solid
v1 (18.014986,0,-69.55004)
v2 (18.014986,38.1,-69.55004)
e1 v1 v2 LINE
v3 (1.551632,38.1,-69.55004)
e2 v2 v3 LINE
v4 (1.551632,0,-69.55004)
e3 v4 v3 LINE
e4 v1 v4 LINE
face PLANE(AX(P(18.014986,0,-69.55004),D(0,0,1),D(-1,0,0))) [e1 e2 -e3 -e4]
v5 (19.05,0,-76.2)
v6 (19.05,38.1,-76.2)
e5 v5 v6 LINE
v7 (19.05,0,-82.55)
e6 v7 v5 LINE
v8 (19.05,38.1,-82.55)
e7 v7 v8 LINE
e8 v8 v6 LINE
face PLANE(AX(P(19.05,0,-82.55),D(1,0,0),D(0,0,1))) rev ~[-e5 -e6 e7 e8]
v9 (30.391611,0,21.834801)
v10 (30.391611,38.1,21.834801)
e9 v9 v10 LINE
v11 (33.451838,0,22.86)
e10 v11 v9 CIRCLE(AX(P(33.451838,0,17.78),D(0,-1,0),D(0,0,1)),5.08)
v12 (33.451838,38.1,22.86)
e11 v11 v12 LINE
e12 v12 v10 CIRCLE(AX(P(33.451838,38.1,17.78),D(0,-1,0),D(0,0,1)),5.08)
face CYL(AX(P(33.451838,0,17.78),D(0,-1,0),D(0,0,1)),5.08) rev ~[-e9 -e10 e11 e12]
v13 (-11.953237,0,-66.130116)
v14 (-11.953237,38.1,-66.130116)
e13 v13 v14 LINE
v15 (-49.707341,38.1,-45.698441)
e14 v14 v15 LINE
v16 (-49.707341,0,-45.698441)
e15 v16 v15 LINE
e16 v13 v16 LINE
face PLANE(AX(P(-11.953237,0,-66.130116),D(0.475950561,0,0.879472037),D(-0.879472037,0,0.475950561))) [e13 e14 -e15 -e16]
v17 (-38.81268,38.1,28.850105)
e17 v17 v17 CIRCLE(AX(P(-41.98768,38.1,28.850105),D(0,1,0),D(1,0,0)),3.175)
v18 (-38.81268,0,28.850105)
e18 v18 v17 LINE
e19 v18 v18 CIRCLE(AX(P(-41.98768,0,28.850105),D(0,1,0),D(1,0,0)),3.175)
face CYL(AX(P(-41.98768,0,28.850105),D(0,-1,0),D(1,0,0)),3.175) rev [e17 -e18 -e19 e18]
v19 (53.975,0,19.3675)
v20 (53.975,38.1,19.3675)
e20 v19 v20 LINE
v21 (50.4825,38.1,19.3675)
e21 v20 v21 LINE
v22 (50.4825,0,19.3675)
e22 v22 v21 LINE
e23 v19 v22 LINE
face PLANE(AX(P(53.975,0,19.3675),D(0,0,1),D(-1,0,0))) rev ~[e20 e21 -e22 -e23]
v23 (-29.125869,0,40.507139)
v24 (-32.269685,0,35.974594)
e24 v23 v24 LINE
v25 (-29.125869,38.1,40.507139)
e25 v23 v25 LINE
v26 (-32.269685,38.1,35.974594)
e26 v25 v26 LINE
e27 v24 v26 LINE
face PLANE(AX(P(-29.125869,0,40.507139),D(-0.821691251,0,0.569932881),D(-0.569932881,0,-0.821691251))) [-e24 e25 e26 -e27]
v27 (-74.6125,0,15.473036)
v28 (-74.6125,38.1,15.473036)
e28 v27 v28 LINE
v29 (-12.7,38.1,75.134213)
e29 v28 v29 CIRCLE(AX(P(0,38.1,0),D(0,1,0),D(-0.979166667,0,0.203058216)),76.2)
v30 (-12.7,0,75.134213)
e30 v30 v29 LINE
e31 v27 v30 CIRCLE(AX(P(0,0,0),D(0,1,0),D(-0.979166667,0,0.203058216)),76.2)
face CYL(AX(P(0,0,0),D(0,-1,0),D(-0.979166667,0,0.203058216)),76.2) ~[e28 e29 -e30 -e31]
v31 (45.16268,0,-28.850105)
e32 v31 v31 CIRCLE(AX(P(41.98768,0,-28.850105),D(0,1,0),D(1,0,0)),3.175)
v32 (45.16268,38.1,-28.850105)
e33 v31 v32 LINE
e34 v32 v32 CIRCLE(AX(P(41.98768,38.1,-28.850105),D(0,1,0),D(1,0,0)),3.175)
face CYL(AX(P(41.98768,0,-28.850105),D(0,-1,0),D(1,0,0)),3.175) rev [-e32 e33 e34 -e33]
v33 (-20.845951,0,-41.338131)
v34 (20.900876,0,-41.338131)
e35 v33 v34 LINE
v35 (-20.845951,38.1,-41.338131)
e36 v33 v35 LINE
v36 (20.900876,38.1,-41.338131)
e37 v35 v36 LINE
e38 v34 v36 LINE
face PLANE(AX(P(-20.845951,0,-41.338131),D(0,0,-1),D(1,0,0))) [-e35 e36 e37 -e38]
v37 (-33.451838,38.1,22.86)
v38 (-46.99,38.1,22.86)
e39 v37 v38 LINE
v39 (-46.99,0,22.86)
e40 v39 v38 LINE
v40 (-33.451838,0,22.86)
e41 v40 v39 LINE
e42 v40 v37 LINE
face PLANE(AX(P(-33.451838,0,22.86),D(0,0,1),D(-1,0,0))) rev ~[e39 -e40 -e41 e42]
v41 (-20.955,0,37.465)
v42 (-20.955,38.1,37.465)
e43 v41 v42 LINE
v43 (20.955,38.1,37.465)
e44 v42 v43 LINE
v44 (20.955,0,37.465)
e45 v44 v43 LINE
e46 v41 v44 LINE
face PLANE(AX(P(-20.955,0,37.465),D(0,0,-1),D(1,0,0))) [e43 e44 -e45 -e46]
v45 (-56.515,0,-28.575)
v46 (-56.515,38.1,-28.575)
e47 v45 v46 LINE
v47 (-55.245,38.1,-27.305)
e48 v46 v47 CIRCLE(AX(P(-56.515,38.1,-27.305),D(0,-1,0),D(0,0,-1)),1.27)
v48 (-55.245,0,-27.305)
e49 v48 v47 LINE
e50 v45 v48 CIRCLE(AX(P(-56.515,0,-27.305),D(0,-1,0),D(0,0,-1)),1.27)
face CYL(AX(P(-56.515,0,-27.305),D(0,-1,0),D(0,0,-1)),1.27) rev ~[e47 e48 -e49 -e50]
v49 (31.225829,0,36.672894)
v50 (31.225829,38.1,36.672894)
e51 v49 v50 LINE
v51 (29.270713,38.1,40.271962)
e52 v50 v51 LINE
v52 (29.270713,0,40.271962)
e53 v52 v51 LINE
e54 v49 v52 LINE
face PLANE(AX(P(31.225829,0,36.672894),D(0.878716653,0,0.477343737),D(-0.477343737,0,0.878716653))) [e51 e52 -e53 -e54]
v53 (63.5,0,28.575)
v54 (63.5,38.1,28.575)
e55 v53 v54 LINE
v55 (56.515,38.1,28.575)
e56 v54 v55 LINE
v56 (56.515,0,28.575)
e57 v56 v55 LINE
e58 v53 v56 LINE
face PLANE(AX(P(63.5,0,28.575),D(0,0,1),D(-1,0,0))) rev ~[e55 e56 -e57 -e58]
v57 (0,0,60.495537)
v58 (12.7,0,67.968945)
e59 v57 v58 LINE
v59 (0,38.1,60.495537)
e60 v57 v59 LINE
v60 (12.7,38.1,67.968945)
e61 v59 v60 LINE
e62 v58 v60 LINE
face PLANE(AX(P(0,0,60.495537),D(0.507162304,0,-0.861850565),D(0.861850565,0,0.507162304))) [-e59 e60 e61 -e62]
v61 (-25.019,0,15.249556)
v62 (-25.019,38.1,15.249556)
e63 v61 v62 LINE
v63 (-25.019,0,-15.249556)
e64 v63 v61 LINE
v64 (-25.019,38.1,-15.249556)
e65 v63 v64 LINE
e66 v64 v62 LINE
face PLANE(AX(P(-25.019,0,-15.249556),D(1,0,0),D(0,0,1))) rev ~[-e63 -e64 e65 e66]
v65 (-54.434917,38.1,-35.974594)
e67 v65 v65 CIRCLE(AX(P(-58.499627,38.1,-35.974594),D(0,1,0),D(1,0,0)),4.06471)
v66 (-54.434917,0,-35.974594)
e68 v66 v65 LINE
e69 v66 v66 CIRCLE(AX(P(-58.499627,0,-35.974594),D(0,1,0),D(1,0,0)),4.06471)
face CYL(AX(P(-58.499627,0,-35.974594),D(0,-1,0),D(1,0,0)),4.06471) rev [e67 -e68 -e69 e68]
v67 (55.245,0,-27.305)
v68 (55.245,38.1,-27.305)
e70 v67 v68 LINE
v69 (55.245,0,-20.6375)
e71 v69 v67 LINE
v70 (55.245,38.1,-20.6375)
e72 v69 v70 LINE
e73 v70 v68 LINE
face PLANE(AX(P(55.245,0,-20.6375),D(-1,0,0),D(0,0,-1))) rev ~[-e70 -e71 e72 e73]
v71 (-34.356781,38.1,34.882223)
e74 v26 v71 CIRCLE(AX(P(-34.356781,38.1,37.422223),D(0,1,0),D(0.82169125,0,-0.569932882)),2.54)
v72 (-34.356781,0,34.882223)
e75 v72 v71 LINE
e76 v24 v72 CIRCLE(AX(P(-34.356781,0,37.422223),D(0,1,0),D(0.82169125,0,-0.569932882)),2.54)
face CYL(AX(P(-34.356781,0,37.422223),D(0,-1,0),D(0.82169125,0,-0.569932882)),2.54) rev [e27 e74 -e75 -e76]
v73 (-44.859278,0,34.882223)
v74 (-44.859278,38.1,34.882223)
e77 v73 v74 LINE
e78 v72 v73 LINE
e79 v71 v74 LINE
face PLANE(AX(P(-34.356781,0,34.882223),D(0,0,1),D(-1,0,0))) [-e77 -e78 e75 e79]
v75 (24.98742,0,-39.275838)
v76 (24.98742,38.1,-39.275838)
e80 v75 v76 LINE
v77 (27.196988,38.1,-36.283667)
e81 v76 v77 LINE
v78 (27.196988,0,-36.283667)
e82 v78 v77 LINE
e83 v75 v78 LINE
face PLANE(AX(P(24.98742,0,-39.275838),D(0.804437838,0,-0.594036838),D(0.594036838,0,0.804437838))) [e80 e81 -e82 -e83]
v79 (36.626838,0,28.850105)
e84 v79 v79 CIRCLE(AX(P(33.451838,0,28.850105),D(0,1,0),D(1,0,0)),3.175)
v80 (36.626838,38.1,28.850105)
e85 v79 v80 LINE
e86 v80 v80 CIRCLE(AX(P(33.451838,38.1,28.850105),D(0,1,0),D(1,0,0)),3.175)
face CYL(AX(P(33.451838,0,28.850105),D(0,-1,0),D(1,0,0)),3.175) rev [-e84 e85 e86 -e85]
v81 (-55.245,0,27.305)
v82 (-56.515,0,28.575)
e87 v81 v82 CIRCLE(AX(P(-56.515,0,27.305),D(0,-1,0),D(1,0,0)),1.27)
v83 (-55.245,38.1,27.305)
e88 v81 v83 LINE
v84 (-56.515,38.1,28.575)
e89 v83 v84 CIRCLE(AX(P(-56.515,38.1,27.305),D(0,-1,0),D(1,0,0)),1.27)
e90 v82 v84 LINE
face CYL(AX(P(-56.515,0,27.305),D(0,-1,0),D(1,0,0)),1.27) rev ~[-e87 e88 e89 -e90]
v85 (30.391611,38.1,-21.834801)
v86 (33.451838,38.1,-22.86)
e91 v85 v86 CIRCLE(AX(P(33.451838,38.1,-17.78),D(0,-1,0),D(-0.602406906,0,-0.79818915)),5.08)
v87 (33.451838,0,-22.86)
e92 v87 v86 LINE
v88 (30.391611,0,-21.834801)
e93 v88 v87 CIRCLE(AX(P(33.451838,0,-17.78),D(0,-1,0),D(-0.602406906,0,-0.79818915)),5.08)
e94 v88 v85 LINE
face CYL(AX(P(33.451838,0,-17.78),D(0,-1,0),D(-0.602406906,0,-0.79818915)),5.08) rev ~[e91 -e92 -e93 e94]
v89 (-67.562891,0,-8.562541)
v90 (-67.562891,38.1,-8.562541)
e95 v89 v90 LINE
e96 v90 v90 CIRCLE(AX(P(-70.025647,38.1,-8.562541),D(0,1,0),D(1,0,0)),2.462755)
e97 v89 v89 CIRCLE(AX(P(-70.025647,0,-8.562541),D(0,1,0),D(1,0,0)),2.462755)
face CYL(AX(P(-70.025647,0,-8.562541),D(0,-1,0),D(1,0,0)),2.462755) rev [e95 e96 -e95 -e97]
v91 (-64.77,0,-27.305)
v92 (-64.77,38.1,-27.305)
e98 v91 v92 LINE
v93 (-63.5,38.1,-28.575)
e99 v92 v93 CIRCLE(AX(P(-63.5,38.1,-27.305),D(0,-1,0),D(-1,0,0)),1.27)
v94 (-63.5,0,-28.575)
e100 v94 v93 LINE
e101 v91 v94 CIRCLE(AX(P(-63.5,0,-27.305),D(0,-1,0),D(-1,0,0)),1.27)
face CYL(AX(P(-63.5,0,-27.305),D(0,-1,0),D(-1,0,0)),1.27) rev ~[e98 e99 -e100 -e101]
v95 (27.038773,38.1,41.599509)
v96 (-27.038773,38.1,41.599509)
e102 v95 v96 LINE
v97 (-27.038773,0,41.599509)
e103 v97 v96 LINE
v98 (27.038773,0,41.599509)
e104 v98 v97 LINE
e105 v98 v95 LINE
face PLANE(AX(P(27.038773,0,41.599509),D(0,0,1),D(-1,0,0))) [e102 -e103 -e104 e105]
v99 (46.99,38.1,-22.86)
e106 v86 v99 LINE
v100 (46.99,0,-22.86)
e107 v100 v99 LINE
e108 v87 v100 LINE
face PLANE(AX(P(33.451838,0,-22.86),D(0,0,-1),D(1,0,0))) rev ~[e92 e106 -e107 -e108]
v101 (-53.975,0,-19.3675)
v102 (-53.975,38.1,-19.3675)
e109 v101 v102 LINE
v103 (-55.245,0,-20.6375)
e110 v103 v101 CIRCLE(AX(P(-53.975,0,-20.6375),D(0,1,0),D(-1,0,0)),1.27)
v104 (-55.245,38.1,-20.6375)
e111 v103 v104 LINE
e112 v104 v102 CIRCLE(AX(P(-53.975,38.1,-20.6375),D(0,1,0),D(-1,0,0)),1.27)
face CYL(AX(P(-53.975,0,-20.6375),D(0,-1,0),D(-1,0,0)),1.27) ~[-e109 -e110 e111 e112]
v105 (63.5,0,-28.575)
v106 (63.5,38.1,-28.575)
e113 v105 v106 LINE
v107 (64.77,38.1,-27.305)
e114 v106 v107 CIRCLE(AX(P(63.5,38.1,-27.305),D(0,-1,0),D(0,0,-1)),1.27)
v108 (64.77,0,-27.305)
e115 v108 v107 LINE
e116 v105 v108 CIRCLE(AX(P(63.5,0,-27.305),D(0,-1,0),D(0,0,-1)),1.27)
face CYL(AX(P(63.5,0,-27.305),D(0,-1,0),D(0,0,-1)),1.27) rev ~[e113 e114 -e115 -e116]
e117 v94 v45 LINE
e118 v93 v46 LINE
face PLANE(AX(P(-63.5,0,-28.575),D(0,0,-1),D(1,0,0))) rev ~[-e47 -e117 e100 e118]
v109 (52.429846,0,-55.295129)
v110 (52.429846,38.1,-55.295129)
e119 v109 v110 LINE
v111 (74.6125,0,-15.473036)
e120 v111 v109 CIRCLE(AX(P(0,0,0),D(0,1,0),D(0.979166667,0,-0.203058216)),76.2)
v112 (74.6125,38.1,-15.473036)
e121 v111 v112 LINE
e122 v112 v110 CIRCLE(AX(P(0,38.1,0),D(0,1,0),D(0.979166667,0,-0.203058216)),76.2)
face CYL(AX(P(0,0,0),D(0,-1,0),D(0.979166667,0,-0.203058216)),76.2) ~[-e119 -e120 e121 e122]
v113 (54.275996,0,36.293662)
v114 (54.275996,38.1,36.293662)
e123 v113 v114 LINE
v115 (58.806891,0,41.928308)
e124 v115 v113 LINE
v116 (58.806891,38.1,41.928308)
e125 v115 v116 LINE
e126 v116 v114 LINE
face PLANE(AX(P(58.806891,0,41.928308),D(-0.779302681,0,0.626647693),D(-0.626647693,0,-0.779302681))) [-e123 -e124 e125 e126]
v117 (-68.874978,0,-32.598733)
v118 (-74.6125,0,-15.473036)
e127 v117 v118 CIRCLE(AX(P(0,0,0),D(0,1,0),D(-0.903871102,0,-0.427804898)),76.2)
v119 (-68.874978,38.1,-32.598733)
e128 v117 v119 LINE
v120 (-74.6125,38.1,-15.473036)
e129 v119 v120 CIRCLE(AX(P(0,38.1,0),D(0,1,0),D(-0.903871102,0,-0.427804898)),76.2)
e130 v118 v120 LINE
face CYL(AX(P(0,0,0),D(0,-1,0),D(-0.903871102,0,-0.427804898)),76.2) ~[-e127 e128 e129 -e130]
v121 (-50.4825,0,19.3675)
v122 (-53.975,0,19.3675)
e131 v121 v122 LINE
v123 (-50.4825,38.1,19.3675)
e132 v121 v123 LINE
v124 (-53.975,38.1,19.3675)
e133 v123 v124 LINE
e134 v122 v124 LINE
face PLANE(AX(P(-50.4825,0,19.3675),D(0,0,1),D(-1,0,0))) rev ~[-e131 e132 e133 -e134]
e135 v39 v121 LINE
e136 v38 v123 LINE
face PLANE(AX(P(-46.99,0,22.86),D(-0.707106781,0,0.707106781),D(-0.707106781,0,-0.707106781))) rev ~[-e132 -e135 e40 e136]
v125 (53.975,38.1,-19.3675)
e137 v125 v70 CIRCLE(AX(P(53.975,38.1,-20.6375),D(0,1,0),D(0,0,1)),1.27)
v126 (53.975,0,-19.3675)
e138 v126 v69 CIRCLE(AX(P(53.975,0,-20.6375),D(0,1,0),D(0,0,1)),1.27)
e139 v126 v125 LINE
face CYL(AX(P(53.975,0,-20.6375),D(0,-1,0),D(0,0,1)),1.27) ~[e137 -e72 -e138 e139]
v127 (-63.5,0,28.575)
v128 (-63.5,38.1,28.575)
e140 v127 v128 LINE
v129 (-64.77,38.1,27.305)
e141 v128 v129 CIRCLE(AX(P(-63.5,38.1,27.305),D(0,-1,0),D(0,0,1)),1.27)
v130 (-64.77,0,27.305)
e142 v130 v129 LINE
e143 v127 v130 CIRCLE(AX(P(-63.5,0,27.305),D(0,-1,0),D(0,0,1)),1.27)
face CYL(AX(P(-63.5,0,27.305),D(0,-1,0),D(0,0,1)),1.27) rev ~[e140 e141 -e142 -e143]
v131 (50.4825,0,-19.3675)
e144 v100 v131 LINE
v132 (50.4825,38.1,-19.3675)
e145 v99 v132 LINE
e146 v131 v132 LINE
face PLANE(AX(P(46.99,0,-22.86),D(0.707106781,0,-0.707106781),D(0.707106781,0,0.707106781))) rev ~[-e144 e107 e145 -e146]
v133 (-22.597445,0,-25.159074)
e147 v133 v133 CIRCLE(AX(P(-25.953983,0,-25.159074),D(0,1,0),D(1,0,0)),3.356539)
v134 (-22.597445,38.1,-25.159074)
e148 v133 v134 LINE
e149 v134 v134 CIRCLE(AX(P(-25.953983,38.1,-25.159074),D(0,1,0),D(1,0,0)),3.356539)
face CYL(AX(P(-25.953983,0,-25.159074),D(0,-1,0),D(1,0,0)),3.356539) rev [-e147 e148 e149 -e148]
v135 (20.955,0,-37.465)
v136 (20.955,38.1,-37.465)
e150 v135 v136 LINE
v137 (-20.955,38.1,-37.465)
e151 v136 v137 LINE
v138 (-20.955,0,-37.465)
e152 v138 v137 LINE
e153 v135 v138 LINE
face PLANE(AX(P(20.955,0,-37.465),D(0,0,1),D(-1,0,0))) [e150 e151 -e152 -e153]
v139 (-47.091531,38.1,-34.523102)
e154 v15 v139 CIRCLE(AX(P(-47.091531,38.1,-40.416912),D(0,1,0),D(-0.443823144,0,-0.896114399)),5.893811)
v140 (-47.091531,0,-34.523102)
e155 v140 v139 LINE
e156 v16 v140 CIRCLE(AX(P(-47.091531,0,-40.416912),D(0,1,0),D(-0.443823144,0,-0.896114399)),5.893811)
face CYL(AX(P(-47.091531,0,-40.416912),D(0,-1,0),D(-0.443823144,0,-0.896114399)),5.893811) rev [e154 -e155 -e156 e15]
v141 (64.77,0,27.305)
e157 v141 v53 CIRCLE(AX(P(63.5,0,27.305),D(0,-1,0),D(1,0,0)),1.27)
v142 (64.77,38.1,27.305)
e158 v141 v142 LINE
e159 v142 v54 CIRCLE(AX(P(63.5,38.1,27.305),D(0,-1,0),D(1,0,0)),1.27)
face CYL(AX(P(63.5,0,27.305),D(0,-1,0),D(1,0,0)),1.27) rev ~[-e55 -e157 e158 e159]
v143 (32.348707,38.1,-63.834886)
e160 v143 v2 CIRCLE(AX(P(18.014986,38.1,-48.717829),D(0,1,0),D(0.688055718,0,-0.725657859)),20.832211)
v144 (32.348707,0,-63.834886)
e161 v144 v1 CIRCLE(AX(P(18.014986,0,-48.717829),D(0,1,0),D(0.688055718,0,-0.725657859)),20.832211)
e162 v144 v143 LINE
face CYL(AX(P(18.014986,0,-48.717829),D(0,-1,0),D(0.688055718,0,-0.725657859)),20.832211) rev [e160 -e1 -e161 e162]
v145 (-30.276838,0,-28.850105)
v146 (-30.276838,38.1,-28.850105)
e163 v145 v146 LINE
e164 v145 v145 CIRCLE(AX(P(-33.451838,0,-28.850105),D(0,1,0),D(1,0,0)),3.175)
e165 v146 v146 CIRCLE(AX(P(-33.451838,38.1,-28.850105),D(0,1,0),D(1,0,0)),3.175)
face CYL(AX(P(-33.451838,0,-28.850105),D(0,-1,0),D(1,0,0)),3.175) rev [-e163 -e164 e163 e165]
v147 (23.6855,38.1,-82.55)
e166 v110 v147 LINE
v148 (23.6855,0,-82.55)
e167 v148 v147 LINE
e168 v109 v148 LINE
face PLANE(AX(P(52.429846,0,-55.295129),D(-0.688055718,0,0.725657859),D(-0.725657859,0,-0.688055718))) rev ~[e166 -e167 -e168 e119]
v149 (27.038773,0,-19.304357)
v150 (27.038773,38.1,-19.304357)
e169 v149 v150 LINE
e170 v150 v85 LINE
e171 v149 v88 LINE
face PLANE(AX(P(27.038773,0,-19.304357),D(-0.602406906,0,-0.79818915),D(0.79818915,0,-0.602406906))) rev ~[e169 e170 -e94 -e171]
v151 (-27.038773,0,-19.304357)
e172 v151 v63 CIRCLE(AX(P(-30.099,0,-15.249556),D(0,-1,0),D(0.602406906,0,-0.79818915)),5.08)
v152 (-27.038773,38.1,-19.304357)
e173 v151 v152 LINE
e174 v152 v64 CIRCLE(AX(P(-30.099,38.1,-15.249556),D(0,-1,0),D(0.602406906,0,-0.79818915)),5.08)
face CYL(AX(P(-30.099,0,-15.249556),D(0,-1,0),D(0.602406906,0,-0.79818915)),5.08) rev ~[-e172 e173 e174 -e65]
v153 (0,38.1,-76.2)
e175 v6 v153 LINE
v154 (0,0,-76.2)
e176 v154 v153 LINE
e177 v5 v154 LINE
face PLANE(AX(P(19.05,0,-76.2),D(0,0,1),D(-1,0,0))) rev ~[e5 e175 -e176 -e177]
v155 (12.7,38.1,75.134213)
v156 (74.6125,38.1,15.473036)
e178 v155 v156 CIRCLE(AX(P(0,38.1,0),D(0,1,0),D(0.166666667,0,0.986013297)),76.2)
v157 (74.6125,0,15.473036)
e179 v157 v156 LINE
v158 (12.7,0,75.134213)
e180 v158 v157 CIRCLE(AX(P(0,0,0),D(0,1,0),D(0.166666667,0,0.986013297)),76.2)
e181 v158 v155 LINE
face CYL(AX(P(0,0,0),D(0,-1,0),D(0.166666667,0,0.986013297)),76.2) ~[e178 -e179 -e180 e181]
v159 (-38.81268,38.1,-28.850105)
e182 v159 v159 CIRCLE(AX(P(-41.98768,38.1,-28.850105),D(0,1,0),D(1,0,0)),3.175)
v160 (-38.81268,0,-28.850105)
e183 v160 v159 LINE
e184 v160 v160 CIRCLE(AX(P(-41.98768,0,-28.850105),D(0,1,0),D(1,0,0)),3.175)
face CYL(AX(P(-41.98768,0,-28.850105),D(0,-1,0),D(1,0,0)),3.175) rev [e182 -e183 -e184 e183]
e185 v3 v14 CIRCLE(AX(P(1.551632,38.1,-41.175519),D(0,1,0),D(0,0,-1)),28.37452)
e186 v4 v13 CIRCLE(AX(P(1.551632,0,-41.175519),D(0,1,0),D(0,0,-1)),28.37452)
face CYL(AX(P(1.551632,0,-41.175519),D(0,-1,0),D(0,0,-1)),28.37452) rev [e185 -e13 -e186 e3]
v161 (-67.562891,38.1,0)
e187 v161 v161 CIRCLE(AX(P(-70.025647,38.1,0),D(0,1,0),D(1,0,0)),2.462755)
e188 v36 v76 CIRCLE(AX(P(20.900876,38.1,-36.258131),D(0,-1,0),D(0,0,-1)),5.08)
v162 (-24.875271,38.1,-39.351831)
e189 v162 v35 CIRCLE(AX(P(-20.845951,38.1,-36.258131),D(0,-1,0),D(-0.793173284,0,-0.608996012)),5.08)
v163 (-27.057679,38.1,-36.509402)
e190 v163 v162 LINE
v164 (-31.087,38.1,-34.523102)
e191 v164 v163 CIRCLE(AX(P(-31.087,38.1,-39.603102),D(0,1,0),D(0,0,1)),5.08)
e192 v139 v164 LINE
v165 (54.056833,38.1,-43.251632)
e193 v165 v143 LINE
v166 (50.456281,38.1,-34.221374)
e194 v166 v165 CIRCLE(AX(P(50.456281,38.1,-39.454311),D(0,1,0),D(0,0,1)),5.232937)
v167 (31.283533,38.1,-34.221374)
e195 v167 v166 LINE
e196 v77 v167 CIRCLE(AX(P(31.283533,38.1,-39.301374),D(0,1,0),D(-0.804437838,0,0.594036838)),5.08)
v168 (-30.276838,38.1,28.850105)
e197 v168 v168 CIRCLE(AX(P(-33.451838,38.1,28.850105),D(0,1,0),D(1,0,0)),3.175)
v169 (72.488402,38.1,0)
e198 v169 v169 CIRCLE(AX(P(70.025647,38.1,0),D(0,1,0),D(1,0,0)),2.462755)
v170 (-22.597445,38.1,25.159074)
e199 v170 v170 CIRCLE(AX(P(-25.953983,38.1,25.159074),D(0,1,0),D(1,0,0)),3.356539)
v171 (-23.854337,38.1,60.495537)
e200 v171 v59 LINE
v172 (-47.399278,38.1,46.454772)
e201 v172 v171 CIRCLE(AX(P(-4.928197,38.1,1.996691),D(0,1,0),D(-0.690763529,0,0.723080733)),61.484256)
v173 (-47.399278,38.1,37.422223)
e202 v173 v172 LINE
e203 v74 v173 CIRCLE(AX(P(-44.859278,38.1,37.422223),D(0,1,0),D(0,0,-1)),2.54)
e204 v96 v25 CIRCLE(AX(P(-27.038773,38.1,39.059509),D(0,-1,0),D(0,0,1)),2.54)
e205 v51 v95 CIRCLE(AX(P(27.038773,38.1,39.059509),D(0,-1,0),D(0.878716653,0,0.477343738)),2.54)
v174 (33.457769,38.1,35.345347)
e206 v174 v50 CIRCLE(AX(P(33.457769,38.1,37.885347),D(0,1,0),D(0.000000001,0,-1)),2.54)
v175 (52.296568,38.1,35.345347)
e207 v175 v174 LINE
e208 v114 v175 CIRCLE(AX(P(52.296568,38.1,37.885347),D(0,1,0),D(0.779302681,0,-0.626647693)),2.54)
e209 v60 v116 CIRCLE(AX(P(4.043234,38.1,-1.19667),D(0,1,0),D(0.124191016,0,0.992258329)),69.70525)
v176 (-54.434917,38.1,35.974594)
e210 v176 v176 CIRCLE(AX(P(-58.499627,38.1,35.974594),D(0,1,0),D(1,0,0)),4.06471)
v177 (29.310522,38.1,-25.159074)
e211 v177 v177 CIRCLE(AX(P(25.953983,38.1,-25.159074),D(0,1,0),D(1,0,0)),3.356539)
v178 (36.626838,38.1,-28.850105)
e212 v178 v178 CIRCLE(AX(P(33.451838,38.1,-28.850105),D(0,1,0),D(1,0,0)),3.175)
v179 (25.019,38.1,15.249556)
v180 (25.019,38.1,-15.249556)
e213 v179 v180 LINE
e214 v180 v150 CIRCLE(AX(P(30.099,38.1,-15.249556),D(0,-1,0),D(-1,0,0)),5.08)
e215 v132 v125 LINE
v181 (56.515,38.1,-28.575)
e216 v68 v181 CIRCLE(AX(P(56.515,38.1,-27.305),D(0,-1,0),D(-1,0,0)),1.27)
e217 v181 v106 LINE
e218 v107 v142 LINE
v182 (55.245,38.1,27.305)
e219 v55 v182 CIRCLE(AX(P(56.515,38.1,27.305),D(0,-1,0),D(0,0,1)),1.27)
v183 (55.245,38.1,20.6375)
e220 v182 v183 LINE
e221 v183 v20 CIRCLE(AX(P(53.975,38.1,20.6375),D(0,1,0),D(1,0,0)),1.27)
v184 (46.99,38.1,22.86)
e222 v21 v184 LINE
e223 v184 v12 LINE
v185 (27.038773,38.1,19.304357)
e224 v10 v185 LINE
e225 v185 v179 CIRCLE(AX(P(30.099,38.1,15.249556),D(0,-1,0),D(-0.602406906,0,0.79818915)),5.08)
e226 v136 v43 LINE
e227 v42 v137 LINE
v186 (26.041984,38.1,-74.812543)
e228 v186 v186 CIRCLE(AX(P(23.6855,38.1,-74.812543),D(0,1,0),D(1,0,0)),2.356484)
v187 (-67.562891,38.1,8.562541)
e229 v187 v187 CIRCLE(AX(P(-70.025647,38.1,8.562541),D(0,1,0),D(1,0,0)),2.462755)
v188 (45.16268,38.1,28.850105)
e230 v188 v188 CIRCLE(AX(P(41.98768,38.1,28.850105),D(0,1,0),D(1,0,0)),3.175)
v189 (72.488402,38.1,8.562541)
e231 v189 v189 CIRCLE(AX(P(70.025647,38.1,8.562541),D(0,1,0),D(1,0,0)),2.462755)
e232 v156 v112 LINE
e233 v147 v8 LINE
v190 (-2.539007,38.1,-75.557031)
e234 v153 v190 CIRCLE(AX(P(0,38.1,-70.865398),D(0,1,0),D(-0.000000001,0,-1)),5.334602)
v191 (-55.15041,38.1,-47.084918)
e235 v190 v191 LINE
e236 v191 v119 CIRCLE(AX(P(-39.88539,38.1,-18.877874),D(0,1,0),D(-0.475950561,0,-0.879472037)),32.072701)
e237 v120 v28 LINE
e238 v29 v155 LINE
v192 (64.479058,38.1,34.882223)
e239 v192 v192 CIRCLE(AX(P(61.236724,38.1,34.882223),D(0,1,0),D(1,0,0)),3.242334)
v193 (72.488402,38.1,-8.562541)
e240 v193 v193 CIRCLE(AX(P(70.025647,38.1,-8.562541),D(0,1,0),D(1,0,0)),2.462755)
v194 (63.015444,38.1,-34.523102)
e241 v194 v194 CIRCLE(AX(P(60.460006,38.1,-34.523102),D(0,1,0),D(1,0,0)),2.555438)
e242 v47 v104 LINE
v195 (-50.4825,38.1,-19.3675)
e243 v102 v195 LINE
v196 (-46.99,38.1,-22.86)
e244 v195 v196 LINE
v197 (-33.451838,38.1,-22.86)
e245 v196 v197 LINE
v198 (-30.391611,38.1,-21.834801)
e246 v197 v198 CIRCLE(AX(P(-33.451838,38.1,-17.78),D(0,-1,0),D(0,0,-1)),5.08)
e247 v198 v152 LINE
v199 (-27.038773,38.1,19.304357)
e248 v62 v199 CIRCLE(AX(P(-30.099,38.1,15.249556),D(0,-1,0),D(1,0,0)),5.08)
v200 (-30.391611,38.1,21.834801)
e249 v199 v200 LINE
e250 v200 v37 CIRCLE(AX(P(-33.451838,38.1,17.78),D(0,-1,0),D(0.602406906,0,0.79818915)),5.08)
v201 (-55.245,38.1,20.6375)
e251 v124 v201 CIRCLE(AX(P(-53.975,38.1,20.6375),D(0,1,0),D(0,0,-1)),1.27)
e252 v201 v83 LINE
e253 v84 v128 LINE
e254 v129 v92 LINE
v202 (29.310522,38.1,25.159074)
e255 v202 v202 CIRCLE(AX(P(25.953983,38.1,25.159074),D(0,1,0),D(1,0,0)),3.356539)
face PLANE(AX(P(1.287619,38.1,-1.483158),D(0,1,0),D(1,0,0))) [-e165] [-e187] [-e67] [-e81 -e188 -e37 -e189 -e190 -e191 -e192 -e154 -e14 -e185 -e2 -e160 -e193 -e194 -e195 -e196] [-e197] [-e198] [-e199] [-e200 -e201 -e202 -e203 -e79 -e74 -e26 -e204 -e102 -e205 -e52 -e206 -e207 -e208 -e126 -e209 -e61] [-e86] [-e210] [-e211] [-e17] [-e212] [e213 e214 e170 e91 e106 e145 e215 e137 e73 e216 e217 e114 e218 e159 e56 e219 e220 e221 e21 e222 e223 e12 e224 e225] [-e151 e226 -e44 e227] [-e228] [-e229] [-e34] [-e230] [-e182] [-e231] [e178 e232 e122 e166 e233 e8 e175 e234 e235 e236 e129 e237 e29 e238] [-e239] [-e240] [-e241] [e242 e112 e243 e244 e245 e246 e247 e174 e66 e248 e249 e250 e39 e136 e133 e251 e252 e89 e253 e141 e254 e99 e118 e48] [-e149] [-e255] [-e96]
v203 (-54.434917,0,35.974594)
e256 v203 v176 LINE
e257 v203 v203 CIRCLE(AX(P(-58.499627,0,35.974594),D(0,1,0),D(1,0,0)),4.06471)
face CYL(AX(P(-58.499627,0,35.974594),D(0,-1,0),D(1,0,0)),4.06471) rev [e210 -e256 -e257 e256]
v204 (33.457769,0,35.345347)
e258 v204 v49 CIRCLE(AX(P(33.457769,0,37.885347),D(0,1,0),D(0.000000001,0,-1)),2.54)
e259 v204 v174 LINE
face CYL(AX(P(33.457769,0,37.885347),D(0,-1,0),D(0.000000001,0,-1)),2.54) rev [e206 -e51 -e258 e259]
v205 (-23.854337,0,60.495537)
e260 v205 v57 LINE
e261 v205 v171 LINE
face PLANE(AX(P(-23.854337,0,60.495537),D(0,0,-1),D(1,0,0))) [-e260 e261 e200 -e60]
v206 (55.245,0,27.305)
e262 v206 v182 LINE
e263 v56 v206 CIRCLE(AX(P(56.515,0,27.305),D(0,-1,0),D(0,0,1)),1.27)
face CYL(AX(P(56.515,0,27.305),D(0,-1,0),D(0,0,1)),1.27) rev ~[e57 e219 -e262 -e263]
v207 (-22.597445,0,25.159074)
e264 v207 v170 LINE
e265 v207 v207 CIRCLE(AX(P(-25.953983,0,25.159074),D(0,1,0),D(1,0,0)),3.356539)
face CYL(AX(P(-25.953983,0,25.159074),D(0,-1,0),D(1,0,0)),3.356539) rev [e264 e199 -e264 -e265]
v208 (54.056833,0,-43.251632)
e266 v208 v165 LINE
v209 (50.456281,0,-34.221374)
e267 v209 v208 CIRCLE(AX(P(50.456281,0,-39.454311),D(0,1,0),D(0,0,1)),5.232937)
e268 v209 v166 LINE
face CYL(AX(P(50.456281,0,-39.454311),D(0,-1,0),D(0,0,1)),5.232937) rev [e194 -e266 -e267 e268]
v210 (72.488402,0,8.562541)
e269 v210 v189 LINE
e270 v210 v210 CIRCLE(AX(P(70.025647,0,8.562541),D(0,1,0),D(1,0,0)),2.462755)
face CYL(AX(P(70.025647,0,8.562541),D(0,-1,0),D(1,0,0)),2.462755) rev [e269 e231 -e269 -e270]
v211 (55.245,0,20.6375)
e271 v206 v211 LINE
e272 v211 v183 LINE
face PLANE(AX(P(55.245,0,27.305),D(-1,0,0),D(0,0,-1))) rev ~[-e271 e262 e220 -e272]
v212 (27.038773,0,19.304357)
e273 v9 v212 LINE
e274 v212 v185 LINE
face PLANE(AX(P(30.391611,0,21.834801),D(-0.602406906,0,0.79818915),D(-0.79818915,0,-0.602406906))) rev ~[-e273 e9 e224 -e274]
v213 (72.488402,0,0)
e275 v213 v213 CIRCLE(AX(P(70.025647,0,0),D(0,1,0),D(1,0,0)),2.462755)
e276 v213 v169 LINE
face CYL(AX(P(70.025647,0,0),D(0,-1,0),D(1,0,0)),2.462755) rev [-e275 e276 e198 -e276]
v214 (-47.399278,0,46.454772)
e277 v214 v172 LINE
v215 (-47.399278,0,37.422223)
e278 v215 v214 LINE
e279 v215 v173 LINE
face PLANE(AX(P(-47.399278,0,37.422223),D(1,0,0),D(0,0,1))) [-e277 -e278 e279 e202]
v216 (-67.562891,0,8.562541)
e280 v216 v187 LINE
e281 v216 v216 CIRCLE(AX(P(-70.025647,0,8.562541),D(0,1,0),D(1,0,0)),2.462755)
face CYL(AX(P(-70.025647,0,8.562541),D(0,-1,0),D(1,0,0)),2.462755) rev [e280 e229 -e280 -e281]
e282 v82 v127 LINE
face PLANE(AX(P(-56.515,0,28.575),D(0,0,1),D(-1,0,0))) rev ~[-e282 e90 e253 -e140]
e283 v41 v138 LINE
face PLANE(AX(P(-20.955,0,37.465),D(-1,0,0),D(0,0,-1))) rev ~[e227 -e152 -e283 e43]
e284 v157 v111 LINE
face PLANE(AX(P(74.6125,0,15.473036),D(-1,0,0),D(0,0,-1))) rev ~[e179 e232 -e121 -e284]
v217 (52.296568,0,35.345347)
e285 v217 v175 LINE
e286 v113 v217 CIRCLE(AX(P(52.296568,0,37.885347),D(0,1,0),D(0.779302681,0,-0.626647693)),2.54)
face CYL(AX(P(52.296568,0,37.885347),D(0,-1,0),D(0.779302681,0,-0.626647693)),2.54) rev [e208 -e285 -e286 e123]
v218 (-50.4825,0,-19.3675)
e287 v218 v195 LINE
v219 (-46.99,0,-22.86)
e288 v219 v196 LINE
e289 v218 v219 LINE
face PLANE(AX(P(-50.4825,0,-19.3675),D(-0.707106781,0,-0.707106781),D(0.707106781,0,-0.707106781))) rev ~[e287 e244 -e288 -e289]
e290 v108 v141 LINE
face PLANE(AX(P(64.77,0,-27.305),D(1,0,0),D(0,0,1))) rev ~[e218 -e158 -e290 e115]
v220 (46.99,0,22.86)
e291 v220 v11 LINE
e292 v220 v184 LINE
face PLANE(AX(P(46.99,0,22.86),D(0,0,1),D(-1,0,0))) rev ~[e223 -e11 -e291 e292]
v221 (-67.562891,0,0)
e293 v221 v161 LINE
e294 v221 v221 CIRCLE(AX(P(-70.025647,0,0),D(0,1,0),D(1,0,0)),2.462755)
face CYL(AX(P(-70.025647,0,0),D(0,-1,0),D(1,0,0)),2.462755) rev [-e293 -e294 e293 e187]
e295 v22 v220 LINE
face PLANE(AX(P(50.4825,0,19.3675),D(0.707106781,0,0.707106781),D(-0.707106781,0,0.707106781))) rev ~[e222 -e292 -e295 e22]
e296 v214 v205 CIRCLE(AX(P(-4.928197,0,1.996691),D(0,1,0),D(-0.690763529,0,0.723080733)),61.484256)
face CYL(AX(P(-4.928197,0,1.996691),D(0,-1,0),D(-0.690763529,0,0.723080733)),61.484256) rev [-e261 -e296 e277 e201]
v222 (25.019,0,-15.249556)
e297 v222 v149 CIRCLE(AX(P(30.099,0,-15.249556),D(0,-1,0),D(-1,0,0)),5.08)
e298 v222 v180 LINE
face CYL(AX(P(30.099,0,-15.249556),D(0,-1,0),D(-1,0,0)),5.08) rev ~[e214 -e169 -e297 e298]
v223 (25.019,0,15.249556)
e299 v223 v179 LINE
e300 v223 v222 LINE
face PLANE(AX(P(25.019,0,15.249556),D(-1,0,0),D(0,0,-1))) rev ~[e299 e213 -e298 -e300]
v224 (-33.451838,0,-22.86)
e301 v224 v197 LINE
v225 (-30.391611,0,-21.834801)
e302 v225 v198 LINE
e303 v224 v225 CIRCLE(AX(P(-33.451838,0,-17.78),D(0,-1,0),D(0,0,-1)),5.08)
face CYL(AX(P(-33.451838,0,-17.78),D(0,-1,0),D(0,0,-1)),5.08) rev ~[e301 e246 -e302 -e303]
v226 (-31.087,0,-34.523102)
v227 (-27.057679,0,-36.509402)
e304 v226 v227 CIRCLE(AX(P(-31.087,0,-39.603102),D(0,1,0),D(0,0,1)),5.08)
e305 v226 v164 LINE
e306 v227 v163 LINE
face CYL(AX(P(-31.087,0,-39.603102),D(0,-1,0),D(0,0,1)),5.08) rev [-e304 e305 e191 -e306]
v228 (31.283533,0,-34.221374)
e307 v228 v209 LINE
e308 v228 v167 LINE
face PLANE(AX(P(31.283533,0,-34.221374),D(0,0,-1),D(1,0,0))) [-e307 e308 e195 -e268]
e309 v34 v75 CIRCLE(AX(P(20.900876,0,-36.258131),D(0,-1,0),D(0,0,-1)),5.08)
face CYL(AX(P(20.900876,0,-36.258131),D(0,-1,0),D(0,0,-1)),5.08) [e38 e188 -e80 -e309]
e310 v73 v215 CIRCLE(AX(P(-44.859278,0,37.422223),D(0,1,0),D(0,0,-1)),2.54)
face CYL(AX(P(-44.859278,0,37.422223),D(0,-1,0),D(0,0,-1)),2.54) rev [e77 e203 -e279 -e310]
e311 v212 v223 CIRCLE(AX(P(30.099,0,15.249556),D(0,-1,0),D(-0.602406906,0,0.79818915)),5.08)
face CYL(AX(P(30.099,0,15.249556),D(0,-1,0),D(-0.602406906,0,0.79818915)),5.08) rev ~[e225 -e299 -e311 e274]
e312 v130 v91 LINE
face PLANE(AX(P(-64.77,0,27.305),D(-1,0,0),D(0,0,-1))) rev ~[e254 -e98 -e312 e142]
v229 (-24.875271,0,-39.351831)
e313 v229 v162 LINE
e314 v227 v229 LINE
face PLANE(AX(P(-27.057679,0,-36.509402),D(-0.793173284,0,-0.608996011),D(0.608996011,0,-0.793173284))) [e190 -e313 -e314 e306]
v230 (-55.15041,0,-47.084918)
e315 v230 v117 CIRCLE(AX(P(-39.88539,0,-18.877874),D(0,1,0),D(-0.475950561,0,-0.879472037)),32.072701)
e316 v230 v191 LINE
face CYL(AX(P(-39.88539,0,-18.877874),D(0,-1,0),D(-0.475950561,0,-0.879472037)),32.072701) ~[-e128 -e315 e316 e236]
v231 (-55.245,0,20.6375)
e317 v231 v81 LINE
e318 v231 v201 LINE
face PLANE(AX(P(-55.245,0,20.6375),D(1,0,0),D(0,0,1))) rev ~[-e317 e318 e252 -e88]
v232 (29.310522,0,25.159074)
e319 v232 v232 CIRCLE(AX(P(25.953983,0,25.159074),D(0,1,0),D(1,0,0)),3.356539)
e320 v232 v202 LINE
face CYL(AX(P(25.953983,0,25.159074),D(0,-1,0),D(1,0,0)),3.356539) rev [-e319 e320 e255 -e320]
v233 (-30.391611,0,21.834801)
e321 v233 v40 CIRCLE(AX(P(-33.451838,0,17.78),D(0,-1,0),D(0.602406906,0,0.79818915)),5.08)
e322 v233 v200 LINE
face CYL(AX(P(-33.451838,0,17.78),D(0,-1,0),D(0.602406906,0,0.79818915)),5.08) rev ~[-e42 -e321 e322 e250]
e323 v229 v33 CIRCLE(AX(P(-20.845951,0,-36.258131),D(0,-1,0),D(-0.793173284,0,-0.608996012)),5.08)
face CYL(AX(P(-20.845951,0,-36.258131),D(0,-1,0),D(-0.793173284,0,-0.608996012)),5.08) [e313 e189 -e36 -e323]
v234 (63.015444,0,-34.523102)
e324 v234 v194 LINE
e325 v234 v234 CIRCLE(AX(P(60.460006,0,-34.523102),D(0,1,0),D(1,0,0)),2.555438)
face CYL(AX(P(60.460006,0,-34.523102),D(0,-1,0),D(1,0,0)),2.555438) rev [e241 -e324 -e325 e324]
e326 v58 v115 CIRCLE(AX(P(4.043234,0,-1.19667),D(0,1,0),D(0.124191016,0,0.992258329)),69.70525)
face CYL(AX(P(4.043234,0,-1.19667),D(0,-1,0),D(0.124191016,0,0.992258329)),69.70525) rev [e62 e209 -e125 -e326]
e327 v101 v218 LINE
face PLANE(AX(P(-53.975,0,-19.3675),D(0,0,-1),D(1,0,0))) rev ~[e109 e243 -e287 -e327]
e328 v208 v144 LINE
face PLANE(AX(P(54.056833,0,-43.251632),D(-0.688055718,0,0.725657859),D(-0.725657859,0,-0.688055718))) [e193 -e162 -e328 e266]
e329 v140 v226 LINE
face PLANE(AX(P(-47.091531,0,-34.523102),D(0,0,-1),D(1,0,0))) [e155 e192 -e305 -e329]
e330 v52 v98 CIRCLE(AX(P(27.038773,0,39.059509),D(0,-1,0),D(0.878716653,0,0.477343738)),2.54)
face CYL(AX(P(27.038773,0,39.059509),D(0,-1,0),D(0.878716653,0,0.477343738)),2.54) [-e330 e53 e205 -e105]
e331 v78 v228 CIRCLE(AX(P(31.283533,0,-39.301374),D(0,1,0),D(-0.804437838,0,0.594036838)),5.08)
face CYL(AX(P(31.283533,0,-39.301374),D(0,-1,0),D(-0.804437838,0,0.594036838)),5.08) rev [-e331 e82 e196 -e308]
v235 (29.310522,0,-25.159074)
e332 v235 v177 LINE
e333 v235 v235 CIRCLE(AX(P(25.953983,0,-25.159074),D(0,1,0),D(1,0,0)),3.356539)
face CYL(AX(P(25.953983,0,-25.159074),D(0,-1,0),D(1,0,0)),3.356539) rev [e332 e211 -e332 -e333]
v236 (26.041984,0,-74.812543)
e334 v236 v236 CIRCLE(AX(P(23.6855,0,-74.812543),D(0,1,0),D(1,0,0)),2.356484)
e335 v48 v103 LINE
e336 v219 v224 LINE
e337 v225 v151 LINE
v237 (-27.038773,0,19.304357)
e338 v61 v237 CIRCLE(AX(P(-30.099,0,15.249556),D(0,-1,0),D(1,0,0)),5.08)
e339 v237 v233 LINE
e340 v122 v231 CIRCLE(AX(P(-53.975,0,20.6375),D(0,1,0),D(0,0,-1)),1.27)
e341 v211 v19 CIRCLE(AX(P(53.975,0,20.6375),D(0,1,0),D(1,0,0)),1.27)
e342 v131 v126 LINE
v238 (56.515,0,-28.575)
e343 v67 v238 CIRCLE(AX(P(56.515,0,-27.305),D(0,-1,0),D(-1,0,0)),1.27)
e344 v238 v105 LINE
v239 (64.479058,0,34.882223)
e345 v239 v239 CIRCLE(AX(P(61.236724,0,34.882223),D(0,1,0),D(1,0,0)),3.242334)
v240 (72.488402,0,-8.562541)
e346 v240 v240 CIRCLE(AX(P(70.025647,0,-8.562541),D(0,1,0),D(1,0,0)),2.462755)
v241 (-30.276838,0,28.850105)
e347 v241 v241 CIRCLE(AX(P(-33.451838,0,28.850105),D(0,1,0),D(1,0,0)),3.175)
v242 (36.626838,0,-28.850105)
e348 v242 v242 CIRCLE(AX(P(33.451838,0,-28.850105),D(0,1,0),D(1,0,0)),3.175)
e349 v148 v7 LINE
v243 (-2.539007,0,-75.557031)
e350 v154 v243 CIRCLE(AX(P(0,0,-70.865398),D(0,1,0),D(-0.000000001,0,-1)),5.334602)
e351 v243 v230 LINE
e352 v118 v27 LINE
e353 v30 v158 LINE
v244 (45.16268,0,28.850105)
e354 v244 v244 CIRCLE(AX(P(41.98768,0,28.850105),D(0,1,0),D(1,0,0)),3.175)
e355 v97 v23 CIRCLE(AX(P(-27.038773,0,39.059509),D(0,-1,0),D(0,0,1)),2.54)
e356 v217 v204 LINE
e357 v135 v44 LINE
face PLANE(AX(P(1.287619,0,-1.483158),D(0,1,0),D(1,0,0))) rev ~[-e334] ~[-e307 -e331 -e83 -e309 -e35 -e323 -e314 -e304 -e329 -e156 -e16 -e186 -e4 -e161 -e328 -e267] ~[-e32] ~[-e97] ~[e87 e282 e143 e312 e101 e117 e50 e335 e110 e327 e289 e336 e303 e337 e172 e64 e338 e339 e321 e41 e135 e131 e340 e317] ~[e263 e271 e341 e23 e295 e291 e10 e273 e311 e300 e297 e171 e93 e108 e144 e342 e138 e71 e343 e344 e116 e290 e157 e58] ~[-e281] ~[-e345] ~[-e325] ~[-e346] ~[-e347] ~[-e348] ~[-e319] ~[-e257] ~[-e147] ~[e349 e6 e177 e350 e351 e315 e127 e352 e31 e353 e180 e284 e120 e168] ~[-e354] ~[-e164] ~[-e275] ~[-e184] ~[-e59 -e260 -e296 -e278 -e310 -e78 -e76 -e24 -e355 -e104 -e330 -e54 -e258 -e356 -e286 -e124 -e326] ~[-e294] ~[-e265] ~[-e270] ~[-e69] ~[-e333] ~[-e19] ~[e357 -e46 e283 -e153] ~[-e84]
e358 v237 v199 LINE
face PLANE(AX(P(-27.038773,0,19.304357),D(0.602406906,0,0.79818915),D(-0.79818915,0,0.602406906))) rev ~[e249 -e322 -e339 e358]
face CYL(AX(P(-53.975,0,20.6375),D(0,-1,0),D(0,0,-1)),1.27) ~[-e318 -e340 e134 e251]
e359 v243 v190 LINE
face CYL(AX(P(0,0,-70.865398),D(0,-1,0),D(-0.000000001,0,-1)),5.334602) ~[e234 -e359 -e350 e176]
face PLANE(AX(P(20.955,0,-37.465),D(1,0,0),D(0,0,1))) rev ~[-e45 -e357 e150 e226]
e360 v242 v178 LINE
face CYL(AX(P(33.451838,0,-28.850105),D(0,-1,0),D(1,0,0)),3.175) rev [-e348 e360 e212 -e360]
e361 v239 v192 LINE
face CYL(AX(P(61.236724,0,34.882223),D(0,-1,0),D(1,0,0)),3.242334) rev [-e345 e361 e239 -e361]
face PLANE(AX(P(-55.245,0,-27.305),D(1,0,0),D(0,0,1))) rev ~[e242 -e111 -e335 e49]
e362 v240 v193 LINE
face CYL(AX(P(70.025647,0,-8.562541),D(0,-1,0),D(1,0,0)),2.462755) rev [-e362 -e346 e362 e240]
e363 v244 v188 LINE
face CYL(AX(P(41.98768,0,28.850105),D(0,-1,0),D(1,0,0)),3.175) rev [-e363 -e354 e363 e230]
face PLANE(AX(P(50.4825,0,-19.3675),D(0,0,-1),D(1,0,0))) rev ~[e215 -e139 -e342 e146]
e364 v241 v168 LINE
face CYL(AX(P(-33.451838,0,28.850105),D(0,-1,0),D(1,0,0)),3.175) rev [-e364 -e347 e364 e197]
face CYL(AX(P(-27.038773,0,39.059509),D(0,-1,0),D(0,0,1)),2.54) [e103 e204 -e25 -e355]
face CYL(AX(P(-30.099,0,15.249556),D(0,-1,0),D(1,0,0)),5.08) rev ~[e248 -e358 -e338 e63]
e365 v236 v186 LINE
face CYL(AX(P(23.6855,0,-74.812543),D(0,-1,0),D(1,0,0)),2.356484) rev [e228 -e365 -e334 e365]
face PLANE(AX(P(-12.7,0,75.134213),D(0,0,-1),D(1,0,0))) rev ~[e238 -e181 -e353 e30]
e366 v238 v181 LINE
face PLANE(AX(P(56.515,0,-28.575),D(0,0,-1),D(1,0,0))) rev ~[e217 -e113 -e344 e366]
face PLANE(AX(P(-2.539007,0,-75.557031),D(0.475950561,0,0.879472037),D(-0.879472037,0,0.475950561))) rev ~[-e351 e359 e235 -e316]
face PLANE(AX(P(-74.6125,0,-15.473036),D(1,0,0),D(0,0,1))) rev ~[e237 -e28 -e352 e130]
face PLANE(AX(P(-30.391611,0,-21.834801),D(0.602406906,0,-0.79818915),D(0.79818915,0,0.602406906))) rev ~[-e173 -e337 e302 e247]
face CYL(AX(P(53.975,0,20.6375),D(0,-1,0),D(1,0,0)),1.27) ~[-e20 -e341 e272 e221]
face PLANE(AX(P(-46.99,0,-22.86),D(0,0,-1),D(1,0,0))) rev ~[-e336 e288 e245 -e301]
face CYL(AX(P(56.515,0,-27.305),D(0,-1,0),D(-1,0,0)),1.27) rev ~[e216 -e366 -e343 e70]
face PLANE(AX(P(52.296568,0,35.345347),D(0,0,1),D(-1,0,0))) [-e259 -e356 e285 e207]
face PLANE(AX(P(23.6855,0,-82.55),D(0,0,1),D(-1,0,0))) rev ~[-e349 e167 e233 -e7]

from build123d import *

# Parameters (mm, degrees)
SKETCH1_R           = 2.356484411
SKETCH1_R_2         = 3.356538595
SKETCH1_R_3         = 3.175
SKETCH1_R_4         = 4.064709562
SKETCH1_R_5         = 2.555437721
SKETCH1_R_6         = 3.242334338
SKETCH1_R_7         = 2.462755239
BOSS_EXTRUDE1_DEPTH = 38.1


with BuildPart() as part:
    # Sketch1 → Boss-Extrude1 (new body)
    with BuildSketch(Plane(origin=(0, 0, 0), x_dir=(1, 0, 0), z_dir=(0, 1, 0))):
        with BuildLine():
            Line((-74.6125, 15.473036022), (-74.6125, -15.473036022))
            ThreePointArc((-74.6125, -15.473036022), (-52.874683743, -54.86991725), (-12.7, -75.134213245))
            Line((-12.7, -75.134213245), (12.7, -75.134213245))
            ThreePointArc((12.7, -75.134213245), (52.874683743, -54.86991725), (74.6125, -15.473036022))
            Line((74.6125, -15.473036022), (74.6125, 15.473036022))
            ThreePointArc((74.6125, 15.473036022), (66.568680107, 37.081677804), (52.429845716, 55.295128883))
            Line((52.429845716, 55.295128883), (23.6855, 82.55))
            Line((23.6855, 82.55), (19.05, 82.55))
            Line((19.05, 82.55), (19.05, 76.2))
            Line((19.05, 76.2), (0, 76.2))
            ThreePointArc((0, 76.2), (-1.309576606, 76.036760248), (-2.539006662, 75.557031324))
            Line((-2.539006662, 75.557031324), (-55.150410299, 47.084918442))
            ThreePointArc((-55.150410299, 47.084918442), (-63.168001103, 40.936392006), (-68.874977996, 32.598733198))
            ThreePointArc((-68.874977996, 32.598733198), (-72.252933929, 24.206477205), (-74.6125, 15.473036022))
        make_face()
        with Locations((23.6855, 74.812542953)):
            Circle(SKETCH1_R, mode=Mode.SUBTRACT)
        with Locations((-25.953983408, 25.159074147)):
            Circle(SKETCH1_R_2, mode=Mode.SUBTRACT)
        with Locations((-41.987680119, 28.850105121)):
            Circle(SKETCH1_R_3, mode=Mode.SUBTRACT)
        with Locations((41.987680119, 28.850105121)):
            Circle(SKETCH1_R_3, mode=Mode.SUBTRACT)
        with Locations((-41.987680119, -28.850105121)):
            Circle(SKETCH1_R_3, mode=Mode.SUBTRACT)
        with Locations((41.987680119, -28.850105121)):
            Circle(SKETCH1_R_3, mode=Mode.SUBTRACT)
        with Locations((-33.451838253, 28.850105121)):
            Circle(SKETCH1_R_3, mode=Mode.SUBTRACT)
        with Locations((33.451838253, 28.850105121)):
            Circle(SKETCH1_R_3, mode=Mode.SUBTRACT)
        with Locations((-33.451838253, -28.850105121)):
            Circle(SKETCH1_R_3, mode=Mode.SUBTRACT)
        with Locations((33.451838253, -28.850105121)):
            Circle(SKETCH1_R_3, mode=Mode.SUBTRACT)
        with Locations((-58.499626731, 35.97459363)):
            Circle(SKETCH1_R_4, mode=Mode.SUBTRACT)
        with Locations((60.460006294, 34.52310187)):
            Circle(SKETCH1_R_5, mode=Mode.SUBTRACT)
        with Locations((-58.499626731, -35.97459363)):
            Circle(SKETCH1_R_4, mode=Mode.SUBTRACT)
        with Locations((61.236723994, -34.882223147)):
            Circle(SKETCH1_R_6, mode=Mode.SUBTRACT)
        with Locations((25.953983408, 25.159074147)):
            Circle(SKETCH1_R_2, mode=Mode.SUBTRACT)
        with Locations((25.953983408, -25.159074147)):
            Circle(SKETCH1_R_2, mode=Mode.SUBTRACT)
        with Locations((-25.953983408, -25.159074147)):
            Circle(SKETCH1_R_2, mode=Mode.SUBTRACT)
        with Locations((70.02564652, 8.562540674)):
            Circle(SKETCH1_R_7, mode=Mode.SUBTRACT)
        with Locations((-70.02564652, 8.562540674)):
            Circle(SKETCH1_R_7, mode=Mode.SUBTRACT)
        with Locations((70.02564652, -8.562540674)):
            Circle(SKETCH1_R_7, mode=Mode.SUBTRACT)
        with Locations((-70.02564652, -8.562540674)):
            Circle(SKETCH1_R_7, mode=Mode.SUBTRACT)
        with Locations((-70.02564652, 0)):
            Circle(SKETCH1_R_7, mode=Mode.SUBTRACT)
        with Locations((70.02564652, 0)):
            Circle(SKETCH1_R_7, mode=Mode.SUBTRACT)
        Polygon((20.955, 37.465), (-20.955, 37.465), (-20.955, 0), (-20.955, -37.465), (20.955, -37.465), (20.955, 0), align=None, mode=Mode.SUBTRACT)
        with BuildLine():
            Line((-53.975, 19.3675), (-50.4825, 19.3675))
            Line((-50.4825, 19.3675), (-46.99, 22.86))
            Line((-46.99, 22.86), (-33.451838253, 22.86))
            ThreePointArc((-33.451838253, 22.86), (-31.838145049, 22.596886364), (-30.391611171, 21.834800884))
            Line((-30.391611171, 21.834800884), (-27.038772918, 19.304356919))
            ThreePointArc((-27.038772918, 19.304356919), (-25.551893581, 17.514555641), (-25.019, 15.249556036))
            Line((-25.019, 15.249556036), (-25.019, 0))
            Line((-25.019, 0), (-25.019, -15.249556036))
            ThreePointArc((-25.019, -15.249556036), (-25.551893581, -17.514555641), (-27.038772918, -19.304356919))
            Line((-27.038772918, -19.304356919), (-30.391611171, -21.834800884))
            ThreePointArc((-30.391611171, -21.834800884), (-31.838145049, -22.596886364), (-33.451838253, -22.86))
            Line((-33.451838253, -22.86), (-46.99, -22.86))
            Line((-46.99, -22.86), (-50.4825, -19.3675))
            Line((-50.4825, -19.3675), (-53.975, -19.3675))
            ThreePointArc((-53.975, -19.3675), (-54.873025612, -19.739474388), (-55.245, -20.6375))
            Line((-55.245, -20.6375), (-55.245, -27.305))
            ThreePointArc((-55.245, -27.305), (-55.616974388, -28.203025612), (-56.515, -28.575))
            Line((-56.515, -28.575), (-63.5, -28.575))
            ThreePointArc((-63.5, -28.575), (-64.398025612, -28.203025612), (-64.77, -27.305))
            Line((-64.77, -27.305), (-64.77, 27.305))
            ThreePointArc((-64.77, 27.305), (-64.398025612, 28.203025612), (-63.5, 28.575))
            Line((-63.5, 28.575), (-56.515, 28.575))
            ThreePointArc((-56.515, 28.575), (-55.616974388, 28.203025612), (-55.245, 27.305))
            Line((-55.245, 27.305), (-55.245, 20.6375))
            ThreePointArc((-55.245, 20.6375), (-54.873025612, 19.739474388), (-53.975, 19.3675))
        make_face(mode=Mode.SUBTRACT)
        with BuildLine():
            Line((64.77, 27.305), (64.77, -27.305))
            ThreePointArc((64.77, -27.305), (64.398025612, -28.203025612), (63.5, -28.575))
            Line((63.5, -28.575), (56.515, -28.575))
            ThreePointArc((56.515, -28.575), (55.616974388, -28.203025612), (55.245, -27.305))
            Line((55.245, -27.305), (55.245, -20.6375))
            ThreePointArc((55.245, -20.6375), (54.873025612, -19.739474388), (53.975, -19.3675))
            Line((53.975, -19.3675), (50.4825, -19.3675))
            Line((50.4825, -19.3675), (46.99, -22.86))
            Line((46.99, -22.86), (33.451838253, -22.86))
            ThreePointArc((33.451838253, -22.86), (31.838145049, -22.596886364), (30.391611171, -21.834800884))
            Line((30.391611171, -21.834800884), (27.038772918, -19.304356919))
            ThreePointArc((27.038772918, -19.304356919), (25.551893581, -17.514555641), (25.019, -15.249556036))
            Line((25.019, -15.249556036), (25.019, 0))
            Line((25.019, 0), (25.019, 15.249556036))
            ThreePointArc((25.019, 15.249556036), (25.551893581, 17.514555641), (27.038772918, 19.304356919))
            Line((27.038772918, 19.304356919), (30.391611171, 21.834800884))
            ThreePointArc((30.391611171, 21.834800884), (31.838145049, 22.596886364), (33.451838253, 22.86))
            Line((33.451838253, 22.86), (46.99, 22.86))
            Line((46.99, 22.86), (50.4825, 19.3675))
            Line((50.4825, 19.3675), (53.975, 19.3675))
            ThreePointArc((53.975, 19.3675), (54.873025612, 19.739474388), (55.245, 20.6375))
            Line((55.245, 20.6375), (55.245, 27.305))
            ThreePointArc((55.245, 27.305), (55.616974388, 28.203025612), (56.515, 28.575))
            Line((56.515, 28.575), (63.5, 28.575))
            ThreePointArc((63.5, 28.575), (64.398025612, 28.203025612), (64.77, 27.305))
        make_face(mode=Mode.SUBTRACT)
        with BuildLine():
            Line((-20.845950883, 41.338131188), (0, 41.338131188))
            Line((0, 41.338131188), (20.900876069, 41.338131188))
            ThreePointArc((20.900876069, 41.338131188), (23.189592711, 40.793346302), (24.987420284, 39.275838327))
            Line((24.987420284, 39.275838327), (27.196988383, 36.283666683))
            ThreePointArc((27.196988383, 36.283666683), (28.994815956, 34.766158708), (31.283532598, 34.221373822))
            Line((31.283532598, 34.221373822), (50.45628088, 34.221373822))
            ThreePointArc((50.45628088, 34.221373822), (55.31708187, 37.516208085), (54.056832983, 43.251632379))
            Line((54.056832983, 43.251632379), (32.348707377, 63.834886263))
            ThreePointArc((32.348707377, 63.834886263), (25.730530949, 68.068574663), (18.014985698, 69.550039535))
            Line((18.014985698, 69.550039535), (1.55163213, 69.550039535))
            ThreePointArc((1.55163213, 69.550039535), (-5.413950327, 68.681774216), (-11.953236682, 66.130116403))
            Line((-11.953236682, 66.130116403), (-49.707341043, 45.69844101))
            ThreePointArc((-49.707341043, 45.69844101), (-52.830230484, 39.073656263), (-47.091531492, 34.52310187))
            Line((-47.091531492, 34.52310187), (-31.086999544, 34.52310187))
            ThreePointArc((-31.086999544, 34.52310187), (-28.840846685, 35.046656179), (-27.057679262, 36.509402133))
            Line((-27.057679262, 36.509402133), (-24.875271165, 39.351830925))
            ThreePointArc((-24.875271165, 39.351830925), (-23.092103742, 40.814576878), (-20.845950883, 41.338131188))
        make_face(mode=Mode.SUBTRACT)
        with BuildLine():
            Line((-23.854336738, -60.495536567), (0, -60.495536567))
            Line((0, -60.495536567), (12.7, -67.96894498))
            ThreePointArc((12.7, -67.96894498), (38.322472705, -59.497281046), (58.80689112, -41.928308409))
            Line((58.80689112, -41.928308409), (54.275996481, -36.293661738))
            ThreePointArc((54.275996481, -36.293661738), (53.394000982, -35.594661364), (52.296567671, -35.345346879))
            Line((52.296567671, -35.345346879), (33.457769344, -35.345346879))
            ThreePointArc((33.457769344, -35.345346879), (32.159314658, -35.702317921), (31.225829045, -36.672893786))
            Line((31.225829045, -36.672893786), (29.270713217, -40.271962344))
            ThreePointArc((29.270713217, -40.271962344), (28.337227604, -41.242538208), (27.038772918, -41.599509251))
            Line((27.038772918, -41.599509251), (-27.038772918, -41.599509251))
            ThreePointArc((-27.038772918, -41.599509251), (-28.216614381, -41.30990688), (-29.125868694, -40.507138769))
            Line((-29.125868694, -40.507138769), (-32.269685191, -35.97459363))
            ThreePointArc((-32.269685191, -35.97459363), (-33.178939505, -35.171825519), (-34.356780968, -34.882223147))
            Line((-34.356780968, -34.882223147), (-44.859278162, -34.882223147))
            ThreePointArc((-44.859278162, -34.882223147), (-46.655329386, -35.626171923), (-47.399278162, -37.422223147))
            Line((-47.399278162, -37.422223147), (-47.399278162, -46.454771748))
            ThreePointArc((-47.399278162, -46.454771748), (-36.419314032, -54.804107481), (-23.854336738, -60.495536567))
        make_face(mode=Mode.SUBTRACT)
    extrude(amount=BOSS_EXTRUDE1_DEPTH)


solid = part.part
